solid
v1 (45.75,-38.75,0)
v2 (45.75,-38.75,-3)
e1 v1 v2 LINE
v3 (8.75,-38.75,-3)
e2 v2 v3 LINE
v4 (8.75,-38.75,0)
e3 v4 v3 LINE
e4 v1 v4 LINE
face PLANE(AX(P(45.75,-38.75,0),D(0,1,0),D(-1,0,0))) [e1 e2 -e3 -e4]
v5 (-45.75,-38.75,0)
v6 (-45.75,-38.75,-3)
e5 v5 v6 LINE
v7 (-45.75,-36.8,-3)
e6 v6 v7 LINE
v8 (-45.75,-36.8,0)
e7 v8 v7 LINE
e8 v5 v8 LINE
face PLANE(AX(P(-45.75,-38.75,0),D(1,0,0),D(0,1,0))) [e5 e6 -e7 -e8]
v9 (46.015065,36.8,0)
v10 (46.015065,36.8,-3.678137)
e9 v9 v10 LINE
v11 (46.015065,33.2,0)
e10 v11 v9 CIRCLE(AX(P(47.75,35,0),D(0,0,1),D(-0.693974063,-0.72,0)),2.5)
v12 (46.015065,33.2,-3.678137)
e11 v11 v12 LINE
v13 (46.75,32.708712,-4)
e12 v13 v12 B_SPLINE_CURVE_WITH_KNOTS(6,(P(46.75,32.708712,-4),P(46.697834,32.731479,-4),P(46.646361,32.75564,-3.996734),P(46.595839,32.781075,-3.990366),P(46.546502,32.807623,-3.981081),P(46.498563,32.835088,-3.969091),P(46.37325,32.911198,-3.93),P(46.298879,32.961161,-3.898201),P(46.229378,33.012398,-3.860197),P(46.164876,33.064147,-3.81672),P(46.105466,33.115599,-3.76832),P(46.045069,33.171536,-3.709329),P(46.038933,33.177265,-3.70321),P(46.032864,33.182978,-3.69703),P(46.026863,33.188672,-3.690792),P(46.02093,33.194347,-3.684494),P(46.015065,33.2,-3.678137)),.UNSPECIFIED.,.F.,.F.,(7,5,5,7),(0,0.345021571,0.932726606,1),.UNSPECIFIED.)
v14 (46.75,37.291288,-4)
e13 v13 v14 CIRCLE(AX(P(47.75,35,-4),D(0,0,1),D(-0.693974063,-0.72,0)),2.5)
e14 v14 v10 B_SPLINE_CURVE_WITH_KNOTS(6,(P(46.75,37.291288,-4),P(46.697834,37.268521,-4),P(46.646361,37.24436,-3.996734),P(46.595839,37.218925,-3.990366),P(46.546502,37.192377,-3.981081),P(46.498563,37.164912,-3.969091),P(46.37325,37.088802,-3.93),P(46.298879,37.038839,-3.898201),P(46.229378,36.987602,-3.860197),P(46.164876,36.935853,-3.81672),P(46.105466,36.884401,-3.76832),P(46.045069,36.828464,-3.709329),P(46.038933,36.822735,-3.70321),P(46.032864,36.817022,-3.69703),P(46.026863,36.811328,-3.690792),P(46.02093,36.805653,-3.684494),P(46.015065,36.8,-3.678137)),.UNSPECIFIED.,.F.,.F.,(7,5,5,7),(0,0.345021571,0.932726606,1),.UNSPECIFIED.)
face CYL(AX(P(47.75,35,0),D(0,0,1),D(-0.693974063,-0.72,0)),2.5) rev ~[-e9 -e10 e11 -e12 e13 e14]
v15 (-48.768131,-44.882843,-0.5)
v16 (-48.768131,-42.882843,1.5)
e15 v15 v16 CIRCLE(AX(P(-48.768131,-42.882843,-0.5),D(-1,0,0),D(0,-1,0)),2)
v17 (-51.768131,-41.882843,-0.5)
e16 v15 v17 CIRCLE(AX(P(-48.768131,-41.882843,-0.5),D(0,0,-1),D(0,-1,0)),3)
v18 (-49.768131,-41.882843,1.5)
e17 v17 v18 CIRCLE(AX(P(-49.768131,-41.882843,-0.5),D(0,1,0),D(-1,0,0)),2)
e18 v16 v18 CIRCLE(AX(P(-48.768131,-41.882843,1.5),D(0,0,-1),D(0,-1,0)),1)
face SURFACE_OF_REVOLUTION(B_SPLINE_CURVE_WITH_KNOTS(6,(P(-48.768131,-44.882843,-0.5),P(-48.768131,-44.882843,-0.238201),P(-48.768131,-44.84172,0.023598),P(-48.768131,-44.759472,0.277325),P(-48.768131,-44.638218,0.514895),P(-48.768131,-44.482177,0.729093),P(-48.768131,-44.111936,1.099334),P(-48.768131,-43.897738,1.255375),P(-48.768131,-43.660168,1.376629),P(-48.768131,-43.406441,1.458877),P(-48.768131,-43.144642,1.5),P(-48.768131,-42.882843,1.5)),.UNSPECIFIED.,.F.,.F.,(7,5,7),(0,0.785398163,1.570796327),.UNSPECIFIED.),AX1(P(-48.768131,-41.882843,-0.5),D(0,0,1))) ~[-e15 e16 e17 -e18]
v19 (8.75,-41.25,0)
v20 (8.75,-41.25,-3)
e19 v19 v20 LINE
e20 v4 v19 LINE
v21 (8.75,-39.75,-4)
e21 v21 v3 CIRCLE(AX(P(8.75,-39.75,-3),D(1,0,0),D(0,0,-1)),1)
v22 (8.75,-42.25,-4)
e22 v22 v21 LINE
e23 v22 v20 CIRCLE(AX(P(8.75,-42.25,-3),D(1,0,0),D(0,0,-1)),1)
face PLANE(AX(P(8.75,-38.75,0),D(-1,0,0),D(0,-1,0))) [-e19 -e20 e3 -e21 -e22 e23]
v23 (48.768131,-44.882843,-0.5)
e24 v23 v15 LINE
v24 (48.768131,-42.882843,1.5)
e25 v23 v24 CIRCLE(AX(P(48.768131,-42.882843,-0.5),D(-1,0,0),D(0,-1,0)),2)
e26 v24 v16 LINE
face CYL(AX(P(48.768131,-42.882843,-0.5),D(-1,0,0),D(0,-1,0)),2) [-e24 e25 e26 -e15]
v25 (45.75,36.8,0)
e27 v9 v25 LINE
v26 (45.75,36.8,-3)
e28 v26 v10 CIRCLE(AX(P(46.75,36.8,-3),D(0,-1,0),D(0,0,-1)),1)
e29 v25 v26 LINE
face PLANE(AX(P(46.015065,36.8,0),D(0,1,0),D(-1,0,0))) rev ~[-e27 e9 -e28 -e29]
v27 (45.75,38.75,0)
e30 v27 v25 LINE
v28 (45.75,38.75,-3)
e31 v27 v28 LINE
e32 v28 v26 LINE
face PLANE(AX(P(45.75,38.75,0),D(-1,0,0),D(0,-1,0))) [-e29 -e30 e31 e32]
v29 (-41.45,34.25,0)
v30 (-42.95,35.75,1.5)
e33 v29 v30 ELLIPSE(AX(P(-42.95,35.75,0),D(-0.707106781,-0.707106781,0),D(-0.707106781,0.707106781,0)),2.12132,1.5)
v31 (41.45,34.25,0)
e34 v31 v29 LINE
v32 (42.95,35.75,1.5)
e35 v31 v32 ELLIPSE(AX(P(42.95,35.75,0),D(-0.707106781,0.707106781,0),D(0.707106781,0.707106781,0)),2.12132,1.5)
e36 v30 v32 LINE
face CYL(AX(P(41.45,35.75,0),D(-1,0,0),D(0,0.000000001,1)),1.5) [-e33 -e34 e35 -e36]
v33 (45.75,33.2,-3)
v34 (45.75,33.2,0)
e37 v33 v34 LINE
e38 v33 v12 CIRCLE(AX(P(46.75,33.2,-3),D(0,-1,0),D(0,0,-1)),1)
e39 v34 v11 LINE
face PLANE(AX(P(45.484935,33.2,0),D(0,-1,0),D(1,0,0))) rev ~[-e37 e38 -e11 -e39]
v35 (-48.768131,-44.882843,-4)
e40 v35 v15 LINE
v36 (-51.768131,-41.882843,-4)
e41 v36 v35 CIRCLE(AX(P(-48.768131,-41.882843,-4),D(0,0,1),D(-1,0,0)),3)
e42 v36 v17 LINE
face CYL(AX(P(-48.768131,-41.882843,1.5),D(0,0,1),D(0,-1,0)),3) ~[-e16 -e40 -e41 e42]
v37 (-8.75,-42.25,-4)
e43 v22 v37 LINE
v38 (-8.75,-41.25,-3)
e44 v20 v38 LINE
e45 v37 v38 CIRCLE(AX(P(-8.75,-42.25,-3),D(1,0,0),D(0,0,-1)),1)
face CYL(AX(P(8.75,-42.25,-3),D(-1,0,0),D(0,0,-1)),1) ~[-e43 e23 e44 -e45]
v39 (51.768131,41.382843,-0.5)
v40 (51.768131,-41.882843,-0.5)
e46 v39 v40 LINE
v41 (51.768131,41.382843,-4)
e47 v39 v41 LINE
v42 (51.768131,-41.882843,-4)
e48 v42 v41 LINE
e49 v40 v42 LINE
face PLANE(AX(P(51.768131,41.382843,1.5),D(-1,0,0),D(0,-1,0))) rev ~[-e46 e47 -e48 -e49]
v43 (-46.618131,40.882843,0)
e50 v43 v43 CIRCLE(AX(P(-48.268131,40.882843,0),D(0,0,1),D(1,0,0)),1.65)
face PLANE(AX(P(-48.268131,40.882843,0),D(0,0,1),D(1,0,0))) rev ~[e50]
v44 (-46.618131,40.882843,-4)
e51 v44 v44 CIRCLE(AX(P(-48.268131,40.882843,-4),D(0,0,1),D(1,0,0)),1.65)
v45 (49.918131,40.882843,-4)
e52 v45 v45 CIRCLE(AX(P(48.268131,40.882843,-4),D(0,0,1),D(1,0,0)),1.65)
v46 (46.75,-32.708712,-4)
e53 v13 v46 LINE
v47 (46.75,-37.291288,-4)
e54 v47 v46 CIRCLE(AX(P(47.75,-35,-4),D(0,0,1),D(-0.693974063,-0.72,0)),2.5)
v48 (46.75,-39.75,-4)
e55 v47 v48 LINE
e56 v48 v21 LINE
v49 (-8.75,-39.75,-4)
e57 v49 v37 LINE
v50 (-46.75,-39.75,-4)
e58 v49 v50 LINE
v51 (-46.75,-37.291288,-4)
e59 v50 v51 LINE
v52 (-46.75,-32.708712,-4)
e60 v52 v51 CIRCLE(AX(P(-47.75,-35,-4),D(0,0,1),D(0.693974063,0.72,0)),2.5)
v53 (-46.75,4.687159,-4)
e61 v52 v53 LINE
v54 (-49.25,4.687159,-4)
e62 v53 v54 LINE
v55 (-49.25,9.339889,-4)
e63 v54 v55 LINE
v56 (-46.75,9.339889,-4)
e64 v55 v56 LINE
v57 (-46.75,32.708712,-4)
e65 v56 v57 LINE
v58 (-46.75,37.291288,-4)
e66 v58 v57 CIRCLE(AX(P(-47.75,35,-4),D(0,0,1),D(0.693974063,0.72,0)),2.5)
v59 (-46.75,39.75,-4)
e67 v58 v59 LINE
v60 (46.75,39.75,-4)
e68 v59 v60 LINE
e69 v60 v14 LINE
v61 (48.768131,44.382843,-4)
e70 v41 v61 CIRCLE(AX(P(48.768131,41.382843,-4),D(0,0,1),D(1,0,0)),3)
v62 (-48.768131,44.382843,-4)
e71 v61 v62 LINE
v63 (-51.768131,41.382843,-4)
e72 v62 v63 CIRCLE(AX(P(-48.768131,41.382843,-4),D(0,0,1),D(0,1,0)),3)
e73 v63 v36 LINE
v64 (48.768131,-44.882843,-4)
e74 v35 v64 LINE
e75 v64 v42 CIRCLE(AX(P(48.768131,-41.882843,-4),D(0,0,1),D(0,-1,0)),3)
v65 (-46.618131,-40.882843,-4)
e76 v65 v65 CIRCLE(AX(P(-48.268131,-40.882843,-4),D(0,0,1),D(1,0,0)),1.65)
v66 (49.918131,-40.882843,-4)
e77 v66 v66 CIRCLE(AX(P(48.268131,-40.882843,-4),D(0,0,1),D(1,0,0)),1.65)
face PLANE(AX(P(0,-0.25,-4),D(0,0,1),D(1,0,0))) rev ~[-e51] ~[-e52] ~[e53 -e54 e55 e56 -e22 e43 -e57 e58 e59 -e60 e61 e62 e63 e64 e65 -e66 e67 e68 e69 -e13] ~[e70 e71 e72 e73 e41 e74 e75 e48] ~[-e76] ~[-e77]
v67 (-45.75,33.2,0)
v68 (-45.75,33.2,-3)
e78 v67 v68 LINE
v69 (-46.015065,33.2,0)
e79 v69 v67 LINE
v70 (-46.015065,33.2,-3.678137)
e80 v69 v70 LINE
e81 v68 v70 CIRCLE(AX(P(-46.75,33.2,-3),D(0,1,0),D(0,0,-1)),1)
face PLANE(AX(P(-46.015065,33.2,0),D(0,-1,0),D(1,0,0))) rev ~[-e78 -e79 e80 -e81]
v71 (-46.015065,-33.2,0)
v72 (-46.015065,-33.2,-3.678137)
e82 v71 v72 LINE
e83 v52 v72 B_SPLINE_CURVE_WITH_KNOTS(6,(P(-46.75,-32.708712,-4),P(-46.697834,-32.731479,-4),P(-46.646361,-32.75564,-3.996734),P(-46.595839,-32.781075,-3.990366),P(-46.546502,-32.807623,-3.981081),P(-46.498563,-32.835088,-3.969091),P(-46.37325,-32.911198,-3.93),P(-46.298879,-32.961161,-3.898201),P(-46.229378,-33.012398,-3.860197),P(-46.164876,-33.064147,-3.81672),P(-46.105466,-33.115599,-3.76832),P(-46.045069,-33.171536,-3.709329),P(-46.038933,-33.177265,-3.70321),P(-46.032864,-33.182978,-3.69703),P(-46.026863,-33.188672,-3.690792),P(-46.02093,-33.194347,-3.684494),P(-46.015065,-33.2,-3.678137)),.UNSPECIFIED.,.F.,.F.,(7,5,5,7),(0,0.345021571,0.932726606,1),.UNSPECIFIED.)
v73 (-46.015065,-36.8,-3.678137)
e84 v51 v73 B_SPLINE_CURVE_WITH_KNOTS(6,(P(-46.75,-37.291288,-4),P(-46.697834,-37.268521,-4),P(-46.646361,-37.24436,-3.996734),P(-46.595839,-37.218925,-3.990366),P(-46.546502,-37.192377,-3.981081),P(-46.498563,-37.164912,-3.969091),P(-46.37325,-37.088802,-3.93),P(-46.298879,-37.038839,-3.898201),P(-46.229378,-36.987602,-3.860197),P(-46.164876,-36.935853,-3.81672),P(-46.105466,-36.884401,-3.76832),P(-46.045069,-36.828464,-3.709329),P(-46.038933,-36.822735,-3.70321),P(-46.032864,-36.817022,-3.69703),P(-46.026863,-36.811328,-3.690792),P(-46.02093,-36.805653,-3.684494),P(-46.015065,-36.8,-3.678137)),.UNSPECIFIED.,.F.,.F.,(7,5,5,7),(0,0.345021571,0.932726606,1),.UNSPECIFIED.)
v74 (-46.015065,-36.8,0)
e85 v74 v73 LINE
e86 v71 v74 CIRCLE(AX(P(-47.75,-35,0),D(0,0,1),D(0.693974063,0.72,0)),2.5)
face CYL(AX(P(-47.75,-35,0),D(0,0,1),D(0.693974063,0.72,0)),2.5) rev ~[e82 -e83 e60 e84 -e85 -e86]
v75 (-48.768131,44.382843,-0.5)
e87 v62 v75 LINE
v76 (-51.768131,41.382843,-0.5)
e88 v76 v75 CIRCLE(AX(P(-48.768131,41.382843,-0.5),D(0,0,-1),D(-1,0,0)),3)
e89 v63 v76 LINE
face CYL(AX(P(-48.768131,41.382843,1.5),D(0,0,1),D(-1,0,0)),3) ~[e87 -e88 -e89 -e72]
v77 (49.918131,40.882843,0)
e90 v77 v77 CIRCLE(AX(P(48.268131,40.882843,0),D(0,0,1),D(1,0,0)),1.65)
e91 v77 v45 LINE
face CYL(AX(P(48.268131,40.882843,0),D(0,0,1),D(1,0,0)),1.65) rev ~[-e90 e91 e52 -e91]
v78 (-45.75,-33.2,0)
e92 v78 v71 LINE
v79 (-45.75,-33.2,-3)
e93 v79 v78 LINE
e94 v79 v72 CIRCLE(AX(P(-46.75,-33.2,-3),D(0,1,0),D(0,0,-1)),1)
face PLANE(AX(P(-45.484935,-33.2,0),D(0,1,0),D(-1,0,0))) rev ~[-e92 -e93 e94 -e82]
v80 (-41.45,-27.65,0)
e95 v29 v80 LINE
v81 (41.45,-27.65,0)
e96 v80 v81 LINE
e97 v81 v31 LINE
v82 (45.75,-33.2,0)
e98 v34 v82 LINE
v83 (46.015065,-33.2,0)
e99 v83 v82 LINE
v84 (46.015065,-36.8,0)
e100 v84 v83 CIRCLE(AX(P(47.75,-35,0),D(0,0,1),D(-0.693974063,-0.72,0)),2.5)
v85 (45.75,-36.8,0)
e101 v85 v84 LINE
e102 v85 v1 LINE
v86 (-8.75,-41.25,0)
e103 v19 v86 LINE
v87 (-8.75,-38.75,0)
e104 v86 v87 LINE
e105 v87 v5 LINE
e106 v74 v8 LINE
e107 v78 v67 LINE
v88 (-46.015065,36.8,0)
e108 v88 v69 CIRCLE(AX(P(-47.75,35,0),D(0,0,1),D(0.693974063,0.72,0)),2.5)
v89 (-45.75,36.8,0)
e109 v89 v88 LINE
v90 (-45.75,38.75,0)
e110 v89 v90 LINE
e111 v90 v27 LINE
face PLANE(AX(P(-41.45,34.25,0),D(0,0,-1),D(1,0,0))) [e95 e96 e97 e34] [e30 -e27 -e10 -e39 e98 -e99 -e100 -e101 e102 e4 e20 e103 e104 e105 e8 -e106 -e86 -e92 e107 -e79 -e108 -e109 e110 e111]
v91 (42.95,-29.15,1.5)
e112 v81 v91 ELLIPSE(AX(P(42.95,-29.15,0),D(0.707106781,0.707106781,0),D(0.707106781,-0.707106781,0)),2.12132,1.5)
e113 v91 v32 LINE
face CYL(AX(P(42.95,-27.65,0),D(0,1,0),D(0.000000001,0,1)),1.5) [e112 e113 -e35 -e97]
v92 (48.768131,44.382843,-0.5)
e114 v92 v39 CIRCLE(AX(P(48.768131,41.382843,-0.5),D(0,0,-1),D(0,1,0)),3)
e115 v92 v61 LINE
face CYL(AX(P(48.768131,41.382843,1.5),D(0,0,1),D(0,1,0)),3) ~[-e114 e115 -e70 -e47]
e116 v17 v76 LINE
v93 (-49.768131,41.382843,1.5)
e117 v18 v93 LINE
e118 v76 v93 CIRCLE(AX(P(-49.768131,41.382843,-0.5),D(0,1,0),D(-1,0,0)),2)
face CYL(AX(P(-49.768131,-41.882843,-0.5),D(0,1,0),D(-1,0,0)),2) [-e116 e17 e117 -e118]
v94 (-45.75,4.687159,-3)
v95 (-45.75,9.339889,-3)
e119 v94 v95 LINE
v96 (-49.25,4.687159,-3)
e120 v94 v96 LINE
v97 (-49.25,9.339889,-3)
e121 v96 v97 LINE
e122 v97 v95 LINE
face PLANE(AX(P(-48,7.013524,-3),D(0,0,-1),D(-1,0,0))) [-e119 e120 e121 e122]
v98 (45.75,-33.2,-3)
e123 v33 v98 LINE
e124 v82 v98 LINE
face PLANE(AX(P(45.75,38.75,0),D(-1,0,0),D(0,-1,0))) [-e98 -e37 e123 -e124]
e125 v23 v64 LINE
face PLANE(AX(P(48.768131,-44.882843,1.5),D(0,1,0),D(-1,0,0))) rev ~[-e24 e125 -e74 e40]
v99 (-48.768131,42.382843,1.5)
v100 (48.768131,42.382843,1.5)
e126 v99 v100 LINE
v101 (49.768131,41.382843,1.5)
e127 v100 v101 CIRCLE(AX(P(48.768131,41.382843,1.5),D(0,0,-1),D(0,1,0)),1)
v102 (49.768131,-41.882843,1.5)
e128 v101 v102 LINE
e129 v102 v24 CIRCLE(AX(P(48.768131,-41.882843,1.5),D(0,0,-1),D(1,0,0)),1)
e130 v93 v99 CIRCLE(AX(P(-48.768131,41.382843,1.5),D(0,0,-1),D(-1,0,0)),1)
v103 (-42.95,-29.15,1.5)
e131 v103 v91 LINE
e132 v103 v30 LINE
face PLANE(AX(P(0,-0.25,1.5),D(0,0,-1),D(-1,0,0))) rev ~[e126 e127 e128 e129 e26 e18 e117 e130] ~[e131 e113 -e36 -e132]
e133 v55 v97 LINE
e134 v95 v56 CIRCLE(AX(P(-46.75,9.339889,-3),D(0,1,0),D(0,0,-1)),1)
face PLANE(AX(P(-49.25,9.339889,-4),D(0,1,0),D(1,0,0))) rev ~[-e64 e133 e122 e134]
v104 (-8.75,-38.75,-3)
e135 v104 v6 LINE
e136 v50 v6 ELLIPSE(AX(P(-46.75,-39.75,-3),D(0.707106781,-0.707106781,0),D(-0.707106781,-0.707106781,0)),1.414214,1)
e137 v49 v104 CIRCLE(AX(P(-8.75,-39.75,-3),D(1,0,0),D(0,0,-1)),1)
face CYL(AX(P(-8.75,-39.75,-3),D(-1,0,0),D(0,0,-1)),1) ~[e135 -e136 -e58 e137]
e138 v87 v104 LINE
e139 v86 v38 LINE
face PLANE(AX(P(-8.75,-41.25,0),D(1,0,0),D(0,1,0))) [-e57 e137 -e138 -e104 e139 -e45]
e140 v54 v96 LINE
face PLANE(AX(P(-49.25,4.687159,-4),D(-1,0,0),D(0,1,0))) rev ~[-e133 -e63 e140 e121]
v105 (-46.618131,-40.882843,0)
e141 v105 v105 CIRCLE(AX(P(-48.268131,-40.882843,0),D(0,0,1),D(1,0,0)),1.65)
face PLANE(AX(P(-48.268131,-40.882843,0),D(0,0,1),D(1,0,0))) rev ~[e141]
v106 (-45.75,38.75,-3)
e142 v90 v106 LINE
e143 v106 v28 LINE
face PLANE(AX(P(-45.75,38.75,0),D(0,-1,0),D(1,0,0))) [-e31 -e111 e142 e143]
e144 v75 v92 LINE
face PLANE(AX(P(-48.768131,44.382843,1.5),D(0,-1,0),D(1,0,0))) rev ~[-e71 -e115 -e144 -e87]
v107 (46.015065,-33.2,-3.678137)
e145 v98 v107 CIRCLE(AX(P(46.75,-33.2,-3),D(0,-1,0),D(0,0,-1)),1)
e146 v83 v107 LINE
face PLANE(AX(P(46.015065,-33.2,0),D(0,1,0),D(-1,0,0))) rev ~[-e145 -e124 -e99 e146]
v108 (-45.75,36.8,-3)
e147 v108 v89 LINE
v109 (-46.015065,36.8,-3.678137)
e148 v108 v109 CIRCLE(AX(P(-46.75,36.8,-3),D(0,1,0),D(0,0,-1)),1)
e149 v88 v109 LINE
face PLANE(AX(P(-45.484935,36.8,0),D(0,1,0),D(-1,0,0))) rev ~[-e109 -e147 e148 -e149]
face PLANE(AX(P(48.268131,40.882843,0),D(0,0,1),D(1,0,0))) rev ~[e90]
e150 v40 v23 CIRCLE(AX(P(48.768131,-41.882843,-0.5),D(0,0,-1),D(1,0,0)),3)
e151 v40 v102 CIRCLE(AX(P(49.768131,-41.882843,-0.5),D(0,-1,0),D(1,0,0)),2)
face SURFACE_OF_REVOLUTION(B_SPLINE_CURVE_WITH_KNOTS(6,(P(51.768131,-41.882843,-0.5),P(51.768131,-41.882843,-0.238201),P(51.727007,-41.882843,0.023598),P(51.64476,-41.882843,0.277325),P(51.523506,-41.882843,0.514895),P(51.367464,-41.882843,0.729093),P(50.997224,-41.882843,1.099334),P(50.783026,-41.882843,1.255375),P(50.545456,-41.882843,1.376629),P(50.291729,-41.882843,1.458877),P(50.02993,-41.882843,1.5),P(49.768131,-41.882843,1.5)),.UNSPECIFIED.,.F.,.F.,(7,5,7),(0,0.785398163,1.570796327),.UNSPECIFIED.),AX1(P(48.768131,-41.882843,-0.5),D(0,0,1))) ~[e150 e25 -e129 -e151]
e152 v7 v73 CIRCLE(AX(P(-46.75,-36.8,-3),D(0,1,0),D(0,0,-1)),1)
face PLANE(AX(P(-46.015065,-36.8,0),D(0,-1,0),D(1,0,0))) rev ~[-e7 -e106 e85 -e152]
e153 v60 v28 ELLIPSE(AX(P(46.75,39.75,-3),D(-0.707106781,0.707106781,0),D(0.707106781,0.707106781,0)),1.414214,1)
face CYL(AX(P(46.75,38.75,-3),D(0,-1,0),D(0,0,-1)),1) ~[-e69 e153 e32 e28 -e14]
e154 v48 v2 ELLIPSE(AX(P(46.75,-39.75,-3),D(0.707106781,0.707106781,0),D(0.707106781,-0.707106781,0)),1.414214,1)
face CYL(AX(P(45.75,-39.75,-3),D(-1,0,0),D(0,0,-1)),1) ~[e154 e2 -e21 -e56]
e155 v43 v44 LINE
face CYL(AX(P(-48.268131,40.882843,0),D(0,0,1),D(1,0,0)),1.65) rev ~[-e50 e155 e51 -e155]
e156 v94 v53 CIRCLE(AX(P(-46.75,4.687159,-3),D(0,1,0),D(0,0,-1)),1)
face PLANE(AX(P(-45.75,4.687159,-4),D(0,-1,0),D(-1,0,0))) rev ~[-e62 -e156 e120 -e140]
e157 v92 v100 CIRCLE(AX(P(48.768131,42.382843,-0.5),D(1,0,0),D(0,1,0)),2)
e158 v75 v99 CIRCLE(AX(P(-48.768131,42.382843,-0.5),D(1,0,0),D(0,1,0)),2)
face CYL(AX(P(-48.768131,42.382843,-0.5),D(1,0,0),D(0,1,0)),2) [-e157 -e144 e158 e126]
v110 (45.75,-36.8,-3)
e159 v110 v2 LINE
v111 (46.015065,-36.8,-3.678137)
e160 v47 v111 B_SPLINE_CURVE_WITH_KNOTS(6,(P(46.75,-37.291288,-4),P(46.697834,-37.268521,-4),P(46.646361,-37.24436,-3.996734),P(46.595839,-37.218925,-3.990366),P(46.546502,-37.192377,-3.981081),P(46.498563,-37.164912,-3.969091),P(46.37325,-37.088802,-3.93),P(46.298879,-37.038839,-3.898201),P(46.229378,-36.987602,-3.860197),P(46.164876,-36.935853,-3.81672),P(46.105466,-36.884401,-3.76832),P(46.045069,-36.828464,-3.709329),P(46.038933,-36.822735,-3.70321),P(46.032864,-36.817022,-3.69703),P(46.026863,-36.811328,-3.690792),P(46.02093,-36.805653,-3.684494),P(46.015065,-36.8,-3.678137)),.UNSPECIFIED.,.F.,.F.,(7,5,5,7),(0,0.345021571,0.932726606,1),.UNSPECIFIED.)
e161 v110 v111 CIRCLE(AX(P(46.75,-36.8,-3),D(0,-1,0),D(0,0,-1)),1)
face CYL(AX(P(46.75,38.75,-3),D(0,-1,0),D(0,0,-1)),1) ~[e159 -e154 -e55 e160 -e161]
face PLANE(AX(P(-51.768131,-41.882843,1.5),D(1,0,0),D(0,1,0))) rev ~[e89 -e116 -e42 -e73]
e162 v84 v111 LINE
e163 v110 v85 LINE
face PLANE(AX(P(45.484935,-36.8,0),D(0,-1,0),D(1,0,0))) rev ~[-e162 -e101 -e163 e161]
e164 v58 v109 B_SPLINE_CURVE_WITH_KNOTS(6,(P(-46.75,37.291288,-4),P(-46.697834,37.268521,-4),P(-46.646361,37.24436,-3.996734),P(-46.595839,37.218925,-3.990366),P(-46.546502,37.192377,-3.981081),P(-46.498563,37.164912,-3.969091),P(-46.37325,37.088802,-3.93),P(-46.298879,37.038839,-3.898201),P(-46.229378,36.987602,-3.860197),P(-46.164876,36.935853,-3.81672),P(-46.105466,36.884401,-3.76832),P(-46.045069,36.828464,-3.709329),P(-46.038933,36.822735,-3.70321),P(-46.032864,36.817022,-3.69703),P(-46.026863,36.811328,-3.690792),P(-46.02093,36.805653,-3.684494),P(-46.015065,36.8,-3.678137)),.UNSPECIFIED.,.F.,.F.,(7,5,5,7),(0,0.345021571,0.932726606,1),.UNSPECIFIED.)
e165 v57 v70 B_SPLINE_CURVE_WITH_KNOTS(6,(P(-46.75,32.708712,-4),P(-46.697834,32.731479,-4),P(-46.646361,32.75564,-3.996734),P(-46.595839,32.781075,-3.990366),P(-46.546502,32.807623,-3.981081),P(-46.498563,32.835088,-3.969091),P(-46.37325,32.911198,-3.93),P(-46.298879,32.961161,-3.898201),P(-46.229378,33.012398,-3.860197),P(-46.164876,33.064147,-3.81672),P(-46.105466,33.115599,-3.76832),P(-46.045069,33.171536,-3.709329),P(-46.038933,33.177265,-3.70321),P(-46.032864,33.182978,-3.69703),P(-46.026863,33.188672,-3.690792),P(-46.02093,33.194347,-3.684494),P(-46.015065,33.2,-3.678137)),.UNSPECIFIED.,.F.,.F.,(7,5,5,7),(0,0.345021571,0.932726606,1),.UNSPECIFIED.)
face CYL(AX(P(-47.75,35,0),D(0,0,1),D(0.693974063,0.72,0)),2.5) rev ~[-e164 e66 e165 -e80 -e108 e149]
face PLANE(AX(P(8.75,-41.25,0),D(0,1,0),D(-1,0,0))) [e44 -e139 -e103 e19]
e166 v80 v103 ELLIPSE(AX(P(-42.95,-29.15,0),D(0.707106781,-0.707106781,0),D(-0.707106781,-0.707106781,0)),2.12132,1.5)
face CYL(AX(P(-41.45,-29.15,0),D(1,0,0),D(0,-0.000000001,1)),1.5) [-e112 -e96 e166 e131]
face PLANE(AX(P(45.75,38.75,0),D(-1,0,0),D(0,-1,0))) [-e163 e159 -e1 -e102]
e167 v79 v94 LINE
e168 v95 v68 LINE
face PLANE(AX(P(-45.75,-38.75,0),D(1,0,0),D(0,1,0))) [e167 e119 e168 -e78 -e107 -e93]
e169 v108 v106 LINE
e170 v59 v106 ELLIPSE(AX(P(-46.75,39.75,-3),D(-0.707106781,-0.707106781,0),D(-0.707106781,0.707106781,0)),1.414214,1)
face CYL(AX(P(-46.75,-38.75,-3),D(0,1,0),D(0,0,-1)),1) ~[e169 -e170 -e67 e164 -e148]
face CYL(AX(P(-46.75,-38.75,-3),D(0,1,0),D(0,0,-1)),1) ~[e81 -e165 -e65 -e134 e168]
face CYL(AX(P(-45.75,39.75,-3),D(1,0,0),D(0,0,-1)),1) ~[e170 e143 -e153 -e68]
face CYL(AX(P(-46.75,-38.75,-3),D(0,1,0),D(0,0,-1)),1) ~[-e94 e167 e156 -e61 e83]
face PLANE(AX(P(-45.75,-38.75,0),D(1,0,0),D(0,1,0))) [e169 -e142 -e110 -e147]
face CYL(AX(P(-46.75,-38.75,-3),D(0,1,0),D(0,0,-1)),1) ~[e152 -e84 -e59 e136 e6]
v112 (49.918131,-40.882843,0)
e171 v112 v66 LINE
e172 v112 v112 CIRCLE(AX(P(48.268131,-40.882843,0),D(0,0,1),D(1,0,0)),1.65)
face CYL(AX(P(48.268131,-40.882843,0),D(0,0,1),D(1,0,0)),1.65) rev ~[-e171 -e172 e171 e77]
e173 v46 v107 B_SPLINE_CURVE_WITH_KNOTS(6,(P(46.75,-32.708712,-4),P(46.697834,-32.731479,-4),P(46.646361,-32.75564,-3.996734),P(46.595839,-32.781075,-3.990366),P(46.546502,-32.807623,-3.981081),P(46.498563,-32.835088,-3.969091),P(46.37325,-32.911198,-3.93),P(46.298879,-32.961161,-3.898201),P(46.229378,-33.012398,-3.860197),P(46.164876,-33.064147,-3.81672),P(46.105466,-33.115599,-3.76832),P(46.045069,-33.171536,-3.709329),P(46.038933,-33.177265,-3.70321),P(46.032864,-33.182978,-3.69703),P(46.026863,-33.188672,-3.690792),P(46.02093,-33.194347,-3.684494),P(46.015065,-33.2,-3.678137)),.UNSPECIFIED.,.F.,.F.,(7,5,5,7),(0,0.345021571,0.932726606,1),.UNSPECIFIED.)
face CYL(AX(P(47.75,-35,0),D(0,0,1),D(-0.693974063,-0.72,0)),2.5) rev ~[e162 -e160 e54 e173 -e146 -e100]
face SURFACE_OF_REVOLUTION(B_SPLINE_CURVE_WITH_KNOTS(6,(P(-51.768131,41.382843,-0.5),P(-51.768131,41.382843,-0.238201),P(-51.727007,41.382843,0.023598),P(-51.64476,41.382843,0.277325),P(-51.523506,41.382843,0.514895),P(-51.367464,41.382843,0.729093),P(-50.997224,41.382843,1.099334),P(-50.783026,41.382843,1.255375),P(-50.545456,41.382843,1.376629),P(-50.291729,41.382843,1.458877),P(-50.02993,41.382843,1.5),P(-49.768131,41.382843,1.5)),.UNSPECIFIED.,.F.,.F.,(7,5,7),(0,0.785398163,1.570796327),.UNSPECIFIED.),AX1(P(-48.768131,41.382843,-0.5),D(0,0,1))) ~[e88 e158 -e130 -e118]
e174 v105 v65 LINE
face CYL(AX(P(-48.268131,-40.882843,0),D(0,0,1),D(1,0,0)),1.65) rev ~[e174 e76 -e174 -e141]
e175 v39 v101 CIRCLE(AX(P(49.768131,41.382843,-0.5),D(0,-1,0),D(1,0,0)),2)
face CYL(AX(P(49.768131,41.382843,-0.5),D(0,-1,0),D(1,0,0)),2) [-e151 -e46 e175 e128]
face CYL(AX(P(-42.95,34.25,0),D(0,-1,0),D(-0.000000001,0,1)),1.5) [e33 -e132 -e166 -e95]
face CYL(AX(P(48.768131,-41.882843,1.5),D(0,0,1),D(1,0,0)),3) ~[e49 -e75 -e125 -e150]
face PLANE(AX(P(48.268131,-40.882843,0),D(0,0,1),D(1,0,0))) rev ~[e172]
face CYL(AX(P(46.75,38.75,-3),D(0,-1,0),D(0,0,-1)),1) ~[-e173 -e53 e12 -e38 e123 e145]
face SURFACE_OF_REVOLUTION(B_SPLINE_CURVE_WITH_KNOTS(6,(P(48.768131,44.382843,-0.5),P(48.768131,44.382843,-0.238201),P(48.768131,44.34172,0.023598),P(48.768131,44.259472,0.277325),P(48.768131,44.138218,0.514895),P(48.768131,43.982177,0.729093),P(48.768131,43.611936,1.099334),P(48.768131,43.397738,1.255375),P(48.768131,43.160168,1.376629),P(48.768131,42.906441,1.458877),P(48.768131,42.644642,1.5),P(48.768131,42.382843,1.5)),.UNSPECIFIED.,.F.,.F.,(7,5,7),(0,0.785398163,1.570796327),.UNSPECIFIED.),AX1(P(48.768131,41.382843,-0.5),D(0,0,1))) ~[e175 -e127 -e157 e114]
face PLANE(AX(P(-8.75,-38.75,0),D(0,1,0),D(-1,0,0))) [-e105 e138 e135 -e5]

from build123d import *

# Parameters (mm, degrees)
SKETCH_1_R          = 1.65
EXTRUDE_1_DEPTH     = 4
EXTRUDE_START       = 1.5
SKETCH_1_3_R        = 1.65
SKETCH_1_3_W        = 91.5
SKETCH_1_3_H        = 77.5
SKETCH_1_3_W_2      = 85.9
SKETCH_1_3_H_2      = 64.9
SKETCH_1_3_W_3      = 17.5
SKETCH_1_3_H_3      = 2.5
EXTRUDE_2_DEPTH     = 1.5
FILLET_1_R          = 2
FILLET_2_R          = 1
CUT_EXTRUDE_START   = -4
CUT_EXTRUDE_1_DEPTH = 4
SKETCH_5_W          = 2.5
SKETCH_5_H          = 4.652730878
SKETCH_5_W_2        = 1
CUT_EXTRUDE_2_DEPTH = 1


with BuildPart() as part:
    # 草图1 → 凸台-拉伸1 (new body)
    with BuildSketch(Plane.XY):
        with BuildLine():
            Line((48.768130557, 44.382842821), (-48.768130557, 44.382842821))
            ThreePointArc((-48.768130557, 44.382842821), (-50.8894509, 43.504163165), (-51.768130557, 41.382842821))
            Line((-51.768130557, 41.382842821), (-51.768130557, -41.882842821))
            ThreePointArc((-51.768130557, -41.882842821), (-50.8894509, -44.004163165), (-48.768130557, -44.882842821))
            Line((-48.768130557, -44.882842821), (48.768130557, -44.882842821))
            ThreePointArc((48.768130557, -44.882842821), (50.8894509, -44.004163165), (51.768130557, -41.882842821))
            Line((51.768130557, -41.882842821), (51.768130557, 41.382842821))
            ThreePointArc((51.768130557, 41.382842821), (50.8894509, 43.504163165), (48.768130557, 44.382842821))
        make_face()
        with Locations((-48.268130557, -40.882842821)):
            Circle(SKETCH_1_R, mode=Mode.SUBTRACT)
        Polygon((-45.75, -38.75), (-45.75, 38.75), (45.75, 38.75), (45.75, -38.75), (8.75, -38.75), (8.75, -41.25), (-8.75, -41.25), (-8.75, -38.75), align=None, mode=Mode.SUBTRACT)
        with Locations((48.268130557, -40.882842821)):
            Circle(SKETCH_1_R, mode=Mode.SUBTRACT)
        with Locations((-48.268130557, 40.882842821)):
            Circle(SKETCH_1_R, mode=Mode.SUBTRACT)
        with Locations((48.268130557, 40.882842821)):
            Circle(SKETCH_1_R, mode=Mode.SUBTRACT)
    extrude(amount=-EXTRUDE_1_DEPTH)

    # 草图1<3> → 凸台-拉伸2 (add)
    # profile 1 of 7: a face of its own
    with BuildSketch(Plane.XY.offset(EXTRUDE_START)):
        with BuildLine():
            Line((-48.768130557, 44.382842821), (48.768130557, 44.382842821))
            ThreePointArc((48.768130557, 44.382842821), (50.8894509, 43.504163165), (51.768130557, 41.382842821))
            Line((51.768130557, 41.382842821), (51.768130557, -41.882842821))
            ThreePointArc((51.768130557, -41.882842821), (50.8894509, -44.004163165), (48.768130557, -44.882842821))
            Line((48.768130557, -44.882842821), (-48.768130557, -44.882842821))
            ThreePointArc((-48.768130557, -44.882842821), (-50.8894509, -44.004163165), (-51.768130557, -41.882842821))
            Line((-51.768130557, -41.882842821), (-51.768130557, 41.382842821))
            ThreePointArc((-51.768130557, 41.382842821), (-50.8894509, 43.504163165), (-48.768130557, 44.382842821))
        make_face()
        with Locations((48.268130557, 40.882842821)):
            Circle(SKETCH_1_3_R, mode=Mode.SUBTRACT)
        with Locations((-48.268130557, 40.882842821)):
            Circle(SKETCH_1_3_R, mode=Mode.SUBTRACT)
        with Locations((-48.268130557, -40.882842821)):
            Circle(SKETCH_1_3_R, mode=Mode.SUBTRACT)
        with Locations((48.268130557, -40.882842821)):
            Circle(SKETCH_1_3_R, mode=Mode.SUBTRACT)
        Rectangle(SKETCH_1_3_W, SKETCH_1_3_H, mode=Mode.SUBTRACT)
    # profile 2 of 7: a face of its own
    with BuildSketch(Plane.XY.offset(EXTRUDE_START)):
        with Locations((-48.268130557, -40.882842821)):
            Circle(SKETCH_1_3_R)
    # profile 3 of 7: a face of its own
    with BuildSketch(Plane.XY.offset(EXTRUDE_START)):
        with Locations((48.268130557, -40.882842821)):
            Circle(SKETCH_1_3_R)
    # profile 4 of 7: a face of its own
    with BuildSketch(Plane.XY.offset(EXTRUDE_START)):
        with Locations((48.268130557, 40.882842821)):
            Circle(SKETCH_1_3_R)
    # profile 5 of 7: a face of its own
    with BuildSketch(Plane.XY.offset(EXTRUDE_START)):
        with Locations((-48.268130557, 40.882842821)):
            Circle(SKETCH_1_3_R)
    # profile 6 of 7: a face of its own
    with BuildSketch(Plane.XY.offset(EXTRUDE_START)):
        Rectangle(SKETCH_1_3_W, SKETCH_1_3_H)
        with Locations((0, 3.3)):
            Rectangle(SKETCH_1_3_W_2, SKETCH_1_3_H_2, mode=Mode.SUBTRACT)
    # profile 7 of 7: a face of its own
    with BuildSketch(Plane.XY.offset(EXTRUDE_START)):
        with Locations((0, -40)):
            Rectangle(SKETCH_1_3_W_3, SKETCH_1_3_H_3)
    extrude(amount=-EXTRUDE_2_DEPTH)

    # 圆角1
    fillet_1_edges = [part.edges().sort_by_distance(p)[0] for p in [
        (0, 44.382842821, 1.5),
        (50.8894509, -44.004163165, 1.5),
        (51.768130557, -0.25, 1.5),
        (-50.8894509, 43.504163165, 1.5),
        (-51.768130557, -0.25, 1.5),
        (-50.8894509, -44.004163165, 1.5),
        (0, -44.882842821, 1.5),
        (50.8894509, 43.504163165, 1.5),
    ]]
    fillet(fillet_1_edges, radius=FILLET_1_R)

    # 圆角2
    fillet_2_edges = [part.edges().sort_by_distance(p)[0] for p in [
        (0, -41.25, -4),
        (-27.25, -38.75, -4),
        (-45.75, 0, -4),
        (0, 38.75, -4),
        (45.75, 0, -4),
        (27.25, -38.75, -4),
    ]]
    fillet(fillet_2_edges, radius=FILLET_2_R)

    # 草图2 → 切除-拉伸1 (cut)
    with BuildSketch(Plane(origin=(0, 0, -4), x_dir=(-1, 0, 0), z_dir=(0, 0, -1)).offset(CUT_EXTRUDE_START)):
        with BuildLine():
            Line((-46.015064843, 36.8), (-45.484935157, 36.8))
            ThreePointArc((-45.484935157, 36.8), (-41.25, 35), (-45.484935157, 33.2))
            Line((-45.484935157, 33.2), (-46.015064843, 33.2))
            ThreePointArc((-46.015064843, 33.2), (-50.25, 35), (-46.015064843, 36.8))
        make_face()
        with BuildLine():
            Line((46.015064843, 33.2), (45.484935157, 33.2))
            ThreePointArc((45.484935157, 33.2), (41.25, 35), (45.484935157, 36.8))
            Line((45.484935157, 36.8), (46.015064843, 36.8))
            ThreePointArc((46.015064843, 36.8), (50.25, 35), (46.015064843, 33.2))
        make_face()
        with BuildLine():
            Line((46.015064843, -36.8), (45.484935157, -36.8))
            ThreePointArc((45.484935157, -36.8), (41.25, -35), (45.484935157, -33.2))
            Line((45.484935157, -33.2), (46.015064843, -33.2))
            ThreePointArc((46.015064843, -33.2), (50.25, -35), (46.015064843, -36.8))
        make_face()
        with BuildLine():
            Line((-46.015064843, -33.2), (-45.484935157, -33.2))
            ThreePointArc((-45.484935157, -33.2), (-41.25, -35), (-45.484935157, -36.8))
            Line((-45.484935157, -36.8), (-46.015064843, -36.8))
            ThreePointArc((-46.015064843, -36.8), (-50.25, -35), (-46.015064843, -33.2))
        make_face()
    extrude(amount=CUT_EXTRUDE_1_DEPTH, mode=Mode.SUBTRACT)

    # 扫描1: sweep along a path in 草图3
    with BuildLine(Plane(origin=(0, 0, 0), x_dir=(-1, 0, 0), z_dir=(0, 0, -1))) as sweep_1_path:
        Line((41.45, 34.25), (41.45, -27.65))
        Line((41.45, -27.65), (-41.45, -27.65))
        Line((-41.45, -27.65), (-41.45, 34.25))
        Line((-41.45, 34.25), (41.45, 34.25))
    # 草图4 → 扫描1 (sweep)
    with BuildSketch(Plane(origin=(0, 0, 0), x_dir=(1, 0, 0), z_dir=(0, 1, 0))):
        with BuildLine():
            Line((41.45, 0), (42.95, 0))
            Line((42.95, 0), (42.95, -1.5))
            ThreePointArc((42.95, -1.5), (41.889339828, -1.060660172), (41.45, 0))
        make_face()
    sweep(path=sweep_1_path.line, transition=Transition.RIGHT)

    # 草图5 → 切除-拉伸2 (cut)
    with BuildSketch(Plane(origin=(0, 0, -4), x_dir=(-1, 0, 0), z_dir=(0, 0, -1))):
        with Locations((48, 7.013523993)):
            Rectangle(SKETCH_5_W, SKETCH_5_H)
        with Locations((46.25, 7.013523993)):
            Rectangle(SKETCH_5_W_2, SKETCH_5_H)
    extrude(amount=-CUT_EXTRUDE_2_DEPTH, mode=Mode.SUBTRACT)


solid = part.part
